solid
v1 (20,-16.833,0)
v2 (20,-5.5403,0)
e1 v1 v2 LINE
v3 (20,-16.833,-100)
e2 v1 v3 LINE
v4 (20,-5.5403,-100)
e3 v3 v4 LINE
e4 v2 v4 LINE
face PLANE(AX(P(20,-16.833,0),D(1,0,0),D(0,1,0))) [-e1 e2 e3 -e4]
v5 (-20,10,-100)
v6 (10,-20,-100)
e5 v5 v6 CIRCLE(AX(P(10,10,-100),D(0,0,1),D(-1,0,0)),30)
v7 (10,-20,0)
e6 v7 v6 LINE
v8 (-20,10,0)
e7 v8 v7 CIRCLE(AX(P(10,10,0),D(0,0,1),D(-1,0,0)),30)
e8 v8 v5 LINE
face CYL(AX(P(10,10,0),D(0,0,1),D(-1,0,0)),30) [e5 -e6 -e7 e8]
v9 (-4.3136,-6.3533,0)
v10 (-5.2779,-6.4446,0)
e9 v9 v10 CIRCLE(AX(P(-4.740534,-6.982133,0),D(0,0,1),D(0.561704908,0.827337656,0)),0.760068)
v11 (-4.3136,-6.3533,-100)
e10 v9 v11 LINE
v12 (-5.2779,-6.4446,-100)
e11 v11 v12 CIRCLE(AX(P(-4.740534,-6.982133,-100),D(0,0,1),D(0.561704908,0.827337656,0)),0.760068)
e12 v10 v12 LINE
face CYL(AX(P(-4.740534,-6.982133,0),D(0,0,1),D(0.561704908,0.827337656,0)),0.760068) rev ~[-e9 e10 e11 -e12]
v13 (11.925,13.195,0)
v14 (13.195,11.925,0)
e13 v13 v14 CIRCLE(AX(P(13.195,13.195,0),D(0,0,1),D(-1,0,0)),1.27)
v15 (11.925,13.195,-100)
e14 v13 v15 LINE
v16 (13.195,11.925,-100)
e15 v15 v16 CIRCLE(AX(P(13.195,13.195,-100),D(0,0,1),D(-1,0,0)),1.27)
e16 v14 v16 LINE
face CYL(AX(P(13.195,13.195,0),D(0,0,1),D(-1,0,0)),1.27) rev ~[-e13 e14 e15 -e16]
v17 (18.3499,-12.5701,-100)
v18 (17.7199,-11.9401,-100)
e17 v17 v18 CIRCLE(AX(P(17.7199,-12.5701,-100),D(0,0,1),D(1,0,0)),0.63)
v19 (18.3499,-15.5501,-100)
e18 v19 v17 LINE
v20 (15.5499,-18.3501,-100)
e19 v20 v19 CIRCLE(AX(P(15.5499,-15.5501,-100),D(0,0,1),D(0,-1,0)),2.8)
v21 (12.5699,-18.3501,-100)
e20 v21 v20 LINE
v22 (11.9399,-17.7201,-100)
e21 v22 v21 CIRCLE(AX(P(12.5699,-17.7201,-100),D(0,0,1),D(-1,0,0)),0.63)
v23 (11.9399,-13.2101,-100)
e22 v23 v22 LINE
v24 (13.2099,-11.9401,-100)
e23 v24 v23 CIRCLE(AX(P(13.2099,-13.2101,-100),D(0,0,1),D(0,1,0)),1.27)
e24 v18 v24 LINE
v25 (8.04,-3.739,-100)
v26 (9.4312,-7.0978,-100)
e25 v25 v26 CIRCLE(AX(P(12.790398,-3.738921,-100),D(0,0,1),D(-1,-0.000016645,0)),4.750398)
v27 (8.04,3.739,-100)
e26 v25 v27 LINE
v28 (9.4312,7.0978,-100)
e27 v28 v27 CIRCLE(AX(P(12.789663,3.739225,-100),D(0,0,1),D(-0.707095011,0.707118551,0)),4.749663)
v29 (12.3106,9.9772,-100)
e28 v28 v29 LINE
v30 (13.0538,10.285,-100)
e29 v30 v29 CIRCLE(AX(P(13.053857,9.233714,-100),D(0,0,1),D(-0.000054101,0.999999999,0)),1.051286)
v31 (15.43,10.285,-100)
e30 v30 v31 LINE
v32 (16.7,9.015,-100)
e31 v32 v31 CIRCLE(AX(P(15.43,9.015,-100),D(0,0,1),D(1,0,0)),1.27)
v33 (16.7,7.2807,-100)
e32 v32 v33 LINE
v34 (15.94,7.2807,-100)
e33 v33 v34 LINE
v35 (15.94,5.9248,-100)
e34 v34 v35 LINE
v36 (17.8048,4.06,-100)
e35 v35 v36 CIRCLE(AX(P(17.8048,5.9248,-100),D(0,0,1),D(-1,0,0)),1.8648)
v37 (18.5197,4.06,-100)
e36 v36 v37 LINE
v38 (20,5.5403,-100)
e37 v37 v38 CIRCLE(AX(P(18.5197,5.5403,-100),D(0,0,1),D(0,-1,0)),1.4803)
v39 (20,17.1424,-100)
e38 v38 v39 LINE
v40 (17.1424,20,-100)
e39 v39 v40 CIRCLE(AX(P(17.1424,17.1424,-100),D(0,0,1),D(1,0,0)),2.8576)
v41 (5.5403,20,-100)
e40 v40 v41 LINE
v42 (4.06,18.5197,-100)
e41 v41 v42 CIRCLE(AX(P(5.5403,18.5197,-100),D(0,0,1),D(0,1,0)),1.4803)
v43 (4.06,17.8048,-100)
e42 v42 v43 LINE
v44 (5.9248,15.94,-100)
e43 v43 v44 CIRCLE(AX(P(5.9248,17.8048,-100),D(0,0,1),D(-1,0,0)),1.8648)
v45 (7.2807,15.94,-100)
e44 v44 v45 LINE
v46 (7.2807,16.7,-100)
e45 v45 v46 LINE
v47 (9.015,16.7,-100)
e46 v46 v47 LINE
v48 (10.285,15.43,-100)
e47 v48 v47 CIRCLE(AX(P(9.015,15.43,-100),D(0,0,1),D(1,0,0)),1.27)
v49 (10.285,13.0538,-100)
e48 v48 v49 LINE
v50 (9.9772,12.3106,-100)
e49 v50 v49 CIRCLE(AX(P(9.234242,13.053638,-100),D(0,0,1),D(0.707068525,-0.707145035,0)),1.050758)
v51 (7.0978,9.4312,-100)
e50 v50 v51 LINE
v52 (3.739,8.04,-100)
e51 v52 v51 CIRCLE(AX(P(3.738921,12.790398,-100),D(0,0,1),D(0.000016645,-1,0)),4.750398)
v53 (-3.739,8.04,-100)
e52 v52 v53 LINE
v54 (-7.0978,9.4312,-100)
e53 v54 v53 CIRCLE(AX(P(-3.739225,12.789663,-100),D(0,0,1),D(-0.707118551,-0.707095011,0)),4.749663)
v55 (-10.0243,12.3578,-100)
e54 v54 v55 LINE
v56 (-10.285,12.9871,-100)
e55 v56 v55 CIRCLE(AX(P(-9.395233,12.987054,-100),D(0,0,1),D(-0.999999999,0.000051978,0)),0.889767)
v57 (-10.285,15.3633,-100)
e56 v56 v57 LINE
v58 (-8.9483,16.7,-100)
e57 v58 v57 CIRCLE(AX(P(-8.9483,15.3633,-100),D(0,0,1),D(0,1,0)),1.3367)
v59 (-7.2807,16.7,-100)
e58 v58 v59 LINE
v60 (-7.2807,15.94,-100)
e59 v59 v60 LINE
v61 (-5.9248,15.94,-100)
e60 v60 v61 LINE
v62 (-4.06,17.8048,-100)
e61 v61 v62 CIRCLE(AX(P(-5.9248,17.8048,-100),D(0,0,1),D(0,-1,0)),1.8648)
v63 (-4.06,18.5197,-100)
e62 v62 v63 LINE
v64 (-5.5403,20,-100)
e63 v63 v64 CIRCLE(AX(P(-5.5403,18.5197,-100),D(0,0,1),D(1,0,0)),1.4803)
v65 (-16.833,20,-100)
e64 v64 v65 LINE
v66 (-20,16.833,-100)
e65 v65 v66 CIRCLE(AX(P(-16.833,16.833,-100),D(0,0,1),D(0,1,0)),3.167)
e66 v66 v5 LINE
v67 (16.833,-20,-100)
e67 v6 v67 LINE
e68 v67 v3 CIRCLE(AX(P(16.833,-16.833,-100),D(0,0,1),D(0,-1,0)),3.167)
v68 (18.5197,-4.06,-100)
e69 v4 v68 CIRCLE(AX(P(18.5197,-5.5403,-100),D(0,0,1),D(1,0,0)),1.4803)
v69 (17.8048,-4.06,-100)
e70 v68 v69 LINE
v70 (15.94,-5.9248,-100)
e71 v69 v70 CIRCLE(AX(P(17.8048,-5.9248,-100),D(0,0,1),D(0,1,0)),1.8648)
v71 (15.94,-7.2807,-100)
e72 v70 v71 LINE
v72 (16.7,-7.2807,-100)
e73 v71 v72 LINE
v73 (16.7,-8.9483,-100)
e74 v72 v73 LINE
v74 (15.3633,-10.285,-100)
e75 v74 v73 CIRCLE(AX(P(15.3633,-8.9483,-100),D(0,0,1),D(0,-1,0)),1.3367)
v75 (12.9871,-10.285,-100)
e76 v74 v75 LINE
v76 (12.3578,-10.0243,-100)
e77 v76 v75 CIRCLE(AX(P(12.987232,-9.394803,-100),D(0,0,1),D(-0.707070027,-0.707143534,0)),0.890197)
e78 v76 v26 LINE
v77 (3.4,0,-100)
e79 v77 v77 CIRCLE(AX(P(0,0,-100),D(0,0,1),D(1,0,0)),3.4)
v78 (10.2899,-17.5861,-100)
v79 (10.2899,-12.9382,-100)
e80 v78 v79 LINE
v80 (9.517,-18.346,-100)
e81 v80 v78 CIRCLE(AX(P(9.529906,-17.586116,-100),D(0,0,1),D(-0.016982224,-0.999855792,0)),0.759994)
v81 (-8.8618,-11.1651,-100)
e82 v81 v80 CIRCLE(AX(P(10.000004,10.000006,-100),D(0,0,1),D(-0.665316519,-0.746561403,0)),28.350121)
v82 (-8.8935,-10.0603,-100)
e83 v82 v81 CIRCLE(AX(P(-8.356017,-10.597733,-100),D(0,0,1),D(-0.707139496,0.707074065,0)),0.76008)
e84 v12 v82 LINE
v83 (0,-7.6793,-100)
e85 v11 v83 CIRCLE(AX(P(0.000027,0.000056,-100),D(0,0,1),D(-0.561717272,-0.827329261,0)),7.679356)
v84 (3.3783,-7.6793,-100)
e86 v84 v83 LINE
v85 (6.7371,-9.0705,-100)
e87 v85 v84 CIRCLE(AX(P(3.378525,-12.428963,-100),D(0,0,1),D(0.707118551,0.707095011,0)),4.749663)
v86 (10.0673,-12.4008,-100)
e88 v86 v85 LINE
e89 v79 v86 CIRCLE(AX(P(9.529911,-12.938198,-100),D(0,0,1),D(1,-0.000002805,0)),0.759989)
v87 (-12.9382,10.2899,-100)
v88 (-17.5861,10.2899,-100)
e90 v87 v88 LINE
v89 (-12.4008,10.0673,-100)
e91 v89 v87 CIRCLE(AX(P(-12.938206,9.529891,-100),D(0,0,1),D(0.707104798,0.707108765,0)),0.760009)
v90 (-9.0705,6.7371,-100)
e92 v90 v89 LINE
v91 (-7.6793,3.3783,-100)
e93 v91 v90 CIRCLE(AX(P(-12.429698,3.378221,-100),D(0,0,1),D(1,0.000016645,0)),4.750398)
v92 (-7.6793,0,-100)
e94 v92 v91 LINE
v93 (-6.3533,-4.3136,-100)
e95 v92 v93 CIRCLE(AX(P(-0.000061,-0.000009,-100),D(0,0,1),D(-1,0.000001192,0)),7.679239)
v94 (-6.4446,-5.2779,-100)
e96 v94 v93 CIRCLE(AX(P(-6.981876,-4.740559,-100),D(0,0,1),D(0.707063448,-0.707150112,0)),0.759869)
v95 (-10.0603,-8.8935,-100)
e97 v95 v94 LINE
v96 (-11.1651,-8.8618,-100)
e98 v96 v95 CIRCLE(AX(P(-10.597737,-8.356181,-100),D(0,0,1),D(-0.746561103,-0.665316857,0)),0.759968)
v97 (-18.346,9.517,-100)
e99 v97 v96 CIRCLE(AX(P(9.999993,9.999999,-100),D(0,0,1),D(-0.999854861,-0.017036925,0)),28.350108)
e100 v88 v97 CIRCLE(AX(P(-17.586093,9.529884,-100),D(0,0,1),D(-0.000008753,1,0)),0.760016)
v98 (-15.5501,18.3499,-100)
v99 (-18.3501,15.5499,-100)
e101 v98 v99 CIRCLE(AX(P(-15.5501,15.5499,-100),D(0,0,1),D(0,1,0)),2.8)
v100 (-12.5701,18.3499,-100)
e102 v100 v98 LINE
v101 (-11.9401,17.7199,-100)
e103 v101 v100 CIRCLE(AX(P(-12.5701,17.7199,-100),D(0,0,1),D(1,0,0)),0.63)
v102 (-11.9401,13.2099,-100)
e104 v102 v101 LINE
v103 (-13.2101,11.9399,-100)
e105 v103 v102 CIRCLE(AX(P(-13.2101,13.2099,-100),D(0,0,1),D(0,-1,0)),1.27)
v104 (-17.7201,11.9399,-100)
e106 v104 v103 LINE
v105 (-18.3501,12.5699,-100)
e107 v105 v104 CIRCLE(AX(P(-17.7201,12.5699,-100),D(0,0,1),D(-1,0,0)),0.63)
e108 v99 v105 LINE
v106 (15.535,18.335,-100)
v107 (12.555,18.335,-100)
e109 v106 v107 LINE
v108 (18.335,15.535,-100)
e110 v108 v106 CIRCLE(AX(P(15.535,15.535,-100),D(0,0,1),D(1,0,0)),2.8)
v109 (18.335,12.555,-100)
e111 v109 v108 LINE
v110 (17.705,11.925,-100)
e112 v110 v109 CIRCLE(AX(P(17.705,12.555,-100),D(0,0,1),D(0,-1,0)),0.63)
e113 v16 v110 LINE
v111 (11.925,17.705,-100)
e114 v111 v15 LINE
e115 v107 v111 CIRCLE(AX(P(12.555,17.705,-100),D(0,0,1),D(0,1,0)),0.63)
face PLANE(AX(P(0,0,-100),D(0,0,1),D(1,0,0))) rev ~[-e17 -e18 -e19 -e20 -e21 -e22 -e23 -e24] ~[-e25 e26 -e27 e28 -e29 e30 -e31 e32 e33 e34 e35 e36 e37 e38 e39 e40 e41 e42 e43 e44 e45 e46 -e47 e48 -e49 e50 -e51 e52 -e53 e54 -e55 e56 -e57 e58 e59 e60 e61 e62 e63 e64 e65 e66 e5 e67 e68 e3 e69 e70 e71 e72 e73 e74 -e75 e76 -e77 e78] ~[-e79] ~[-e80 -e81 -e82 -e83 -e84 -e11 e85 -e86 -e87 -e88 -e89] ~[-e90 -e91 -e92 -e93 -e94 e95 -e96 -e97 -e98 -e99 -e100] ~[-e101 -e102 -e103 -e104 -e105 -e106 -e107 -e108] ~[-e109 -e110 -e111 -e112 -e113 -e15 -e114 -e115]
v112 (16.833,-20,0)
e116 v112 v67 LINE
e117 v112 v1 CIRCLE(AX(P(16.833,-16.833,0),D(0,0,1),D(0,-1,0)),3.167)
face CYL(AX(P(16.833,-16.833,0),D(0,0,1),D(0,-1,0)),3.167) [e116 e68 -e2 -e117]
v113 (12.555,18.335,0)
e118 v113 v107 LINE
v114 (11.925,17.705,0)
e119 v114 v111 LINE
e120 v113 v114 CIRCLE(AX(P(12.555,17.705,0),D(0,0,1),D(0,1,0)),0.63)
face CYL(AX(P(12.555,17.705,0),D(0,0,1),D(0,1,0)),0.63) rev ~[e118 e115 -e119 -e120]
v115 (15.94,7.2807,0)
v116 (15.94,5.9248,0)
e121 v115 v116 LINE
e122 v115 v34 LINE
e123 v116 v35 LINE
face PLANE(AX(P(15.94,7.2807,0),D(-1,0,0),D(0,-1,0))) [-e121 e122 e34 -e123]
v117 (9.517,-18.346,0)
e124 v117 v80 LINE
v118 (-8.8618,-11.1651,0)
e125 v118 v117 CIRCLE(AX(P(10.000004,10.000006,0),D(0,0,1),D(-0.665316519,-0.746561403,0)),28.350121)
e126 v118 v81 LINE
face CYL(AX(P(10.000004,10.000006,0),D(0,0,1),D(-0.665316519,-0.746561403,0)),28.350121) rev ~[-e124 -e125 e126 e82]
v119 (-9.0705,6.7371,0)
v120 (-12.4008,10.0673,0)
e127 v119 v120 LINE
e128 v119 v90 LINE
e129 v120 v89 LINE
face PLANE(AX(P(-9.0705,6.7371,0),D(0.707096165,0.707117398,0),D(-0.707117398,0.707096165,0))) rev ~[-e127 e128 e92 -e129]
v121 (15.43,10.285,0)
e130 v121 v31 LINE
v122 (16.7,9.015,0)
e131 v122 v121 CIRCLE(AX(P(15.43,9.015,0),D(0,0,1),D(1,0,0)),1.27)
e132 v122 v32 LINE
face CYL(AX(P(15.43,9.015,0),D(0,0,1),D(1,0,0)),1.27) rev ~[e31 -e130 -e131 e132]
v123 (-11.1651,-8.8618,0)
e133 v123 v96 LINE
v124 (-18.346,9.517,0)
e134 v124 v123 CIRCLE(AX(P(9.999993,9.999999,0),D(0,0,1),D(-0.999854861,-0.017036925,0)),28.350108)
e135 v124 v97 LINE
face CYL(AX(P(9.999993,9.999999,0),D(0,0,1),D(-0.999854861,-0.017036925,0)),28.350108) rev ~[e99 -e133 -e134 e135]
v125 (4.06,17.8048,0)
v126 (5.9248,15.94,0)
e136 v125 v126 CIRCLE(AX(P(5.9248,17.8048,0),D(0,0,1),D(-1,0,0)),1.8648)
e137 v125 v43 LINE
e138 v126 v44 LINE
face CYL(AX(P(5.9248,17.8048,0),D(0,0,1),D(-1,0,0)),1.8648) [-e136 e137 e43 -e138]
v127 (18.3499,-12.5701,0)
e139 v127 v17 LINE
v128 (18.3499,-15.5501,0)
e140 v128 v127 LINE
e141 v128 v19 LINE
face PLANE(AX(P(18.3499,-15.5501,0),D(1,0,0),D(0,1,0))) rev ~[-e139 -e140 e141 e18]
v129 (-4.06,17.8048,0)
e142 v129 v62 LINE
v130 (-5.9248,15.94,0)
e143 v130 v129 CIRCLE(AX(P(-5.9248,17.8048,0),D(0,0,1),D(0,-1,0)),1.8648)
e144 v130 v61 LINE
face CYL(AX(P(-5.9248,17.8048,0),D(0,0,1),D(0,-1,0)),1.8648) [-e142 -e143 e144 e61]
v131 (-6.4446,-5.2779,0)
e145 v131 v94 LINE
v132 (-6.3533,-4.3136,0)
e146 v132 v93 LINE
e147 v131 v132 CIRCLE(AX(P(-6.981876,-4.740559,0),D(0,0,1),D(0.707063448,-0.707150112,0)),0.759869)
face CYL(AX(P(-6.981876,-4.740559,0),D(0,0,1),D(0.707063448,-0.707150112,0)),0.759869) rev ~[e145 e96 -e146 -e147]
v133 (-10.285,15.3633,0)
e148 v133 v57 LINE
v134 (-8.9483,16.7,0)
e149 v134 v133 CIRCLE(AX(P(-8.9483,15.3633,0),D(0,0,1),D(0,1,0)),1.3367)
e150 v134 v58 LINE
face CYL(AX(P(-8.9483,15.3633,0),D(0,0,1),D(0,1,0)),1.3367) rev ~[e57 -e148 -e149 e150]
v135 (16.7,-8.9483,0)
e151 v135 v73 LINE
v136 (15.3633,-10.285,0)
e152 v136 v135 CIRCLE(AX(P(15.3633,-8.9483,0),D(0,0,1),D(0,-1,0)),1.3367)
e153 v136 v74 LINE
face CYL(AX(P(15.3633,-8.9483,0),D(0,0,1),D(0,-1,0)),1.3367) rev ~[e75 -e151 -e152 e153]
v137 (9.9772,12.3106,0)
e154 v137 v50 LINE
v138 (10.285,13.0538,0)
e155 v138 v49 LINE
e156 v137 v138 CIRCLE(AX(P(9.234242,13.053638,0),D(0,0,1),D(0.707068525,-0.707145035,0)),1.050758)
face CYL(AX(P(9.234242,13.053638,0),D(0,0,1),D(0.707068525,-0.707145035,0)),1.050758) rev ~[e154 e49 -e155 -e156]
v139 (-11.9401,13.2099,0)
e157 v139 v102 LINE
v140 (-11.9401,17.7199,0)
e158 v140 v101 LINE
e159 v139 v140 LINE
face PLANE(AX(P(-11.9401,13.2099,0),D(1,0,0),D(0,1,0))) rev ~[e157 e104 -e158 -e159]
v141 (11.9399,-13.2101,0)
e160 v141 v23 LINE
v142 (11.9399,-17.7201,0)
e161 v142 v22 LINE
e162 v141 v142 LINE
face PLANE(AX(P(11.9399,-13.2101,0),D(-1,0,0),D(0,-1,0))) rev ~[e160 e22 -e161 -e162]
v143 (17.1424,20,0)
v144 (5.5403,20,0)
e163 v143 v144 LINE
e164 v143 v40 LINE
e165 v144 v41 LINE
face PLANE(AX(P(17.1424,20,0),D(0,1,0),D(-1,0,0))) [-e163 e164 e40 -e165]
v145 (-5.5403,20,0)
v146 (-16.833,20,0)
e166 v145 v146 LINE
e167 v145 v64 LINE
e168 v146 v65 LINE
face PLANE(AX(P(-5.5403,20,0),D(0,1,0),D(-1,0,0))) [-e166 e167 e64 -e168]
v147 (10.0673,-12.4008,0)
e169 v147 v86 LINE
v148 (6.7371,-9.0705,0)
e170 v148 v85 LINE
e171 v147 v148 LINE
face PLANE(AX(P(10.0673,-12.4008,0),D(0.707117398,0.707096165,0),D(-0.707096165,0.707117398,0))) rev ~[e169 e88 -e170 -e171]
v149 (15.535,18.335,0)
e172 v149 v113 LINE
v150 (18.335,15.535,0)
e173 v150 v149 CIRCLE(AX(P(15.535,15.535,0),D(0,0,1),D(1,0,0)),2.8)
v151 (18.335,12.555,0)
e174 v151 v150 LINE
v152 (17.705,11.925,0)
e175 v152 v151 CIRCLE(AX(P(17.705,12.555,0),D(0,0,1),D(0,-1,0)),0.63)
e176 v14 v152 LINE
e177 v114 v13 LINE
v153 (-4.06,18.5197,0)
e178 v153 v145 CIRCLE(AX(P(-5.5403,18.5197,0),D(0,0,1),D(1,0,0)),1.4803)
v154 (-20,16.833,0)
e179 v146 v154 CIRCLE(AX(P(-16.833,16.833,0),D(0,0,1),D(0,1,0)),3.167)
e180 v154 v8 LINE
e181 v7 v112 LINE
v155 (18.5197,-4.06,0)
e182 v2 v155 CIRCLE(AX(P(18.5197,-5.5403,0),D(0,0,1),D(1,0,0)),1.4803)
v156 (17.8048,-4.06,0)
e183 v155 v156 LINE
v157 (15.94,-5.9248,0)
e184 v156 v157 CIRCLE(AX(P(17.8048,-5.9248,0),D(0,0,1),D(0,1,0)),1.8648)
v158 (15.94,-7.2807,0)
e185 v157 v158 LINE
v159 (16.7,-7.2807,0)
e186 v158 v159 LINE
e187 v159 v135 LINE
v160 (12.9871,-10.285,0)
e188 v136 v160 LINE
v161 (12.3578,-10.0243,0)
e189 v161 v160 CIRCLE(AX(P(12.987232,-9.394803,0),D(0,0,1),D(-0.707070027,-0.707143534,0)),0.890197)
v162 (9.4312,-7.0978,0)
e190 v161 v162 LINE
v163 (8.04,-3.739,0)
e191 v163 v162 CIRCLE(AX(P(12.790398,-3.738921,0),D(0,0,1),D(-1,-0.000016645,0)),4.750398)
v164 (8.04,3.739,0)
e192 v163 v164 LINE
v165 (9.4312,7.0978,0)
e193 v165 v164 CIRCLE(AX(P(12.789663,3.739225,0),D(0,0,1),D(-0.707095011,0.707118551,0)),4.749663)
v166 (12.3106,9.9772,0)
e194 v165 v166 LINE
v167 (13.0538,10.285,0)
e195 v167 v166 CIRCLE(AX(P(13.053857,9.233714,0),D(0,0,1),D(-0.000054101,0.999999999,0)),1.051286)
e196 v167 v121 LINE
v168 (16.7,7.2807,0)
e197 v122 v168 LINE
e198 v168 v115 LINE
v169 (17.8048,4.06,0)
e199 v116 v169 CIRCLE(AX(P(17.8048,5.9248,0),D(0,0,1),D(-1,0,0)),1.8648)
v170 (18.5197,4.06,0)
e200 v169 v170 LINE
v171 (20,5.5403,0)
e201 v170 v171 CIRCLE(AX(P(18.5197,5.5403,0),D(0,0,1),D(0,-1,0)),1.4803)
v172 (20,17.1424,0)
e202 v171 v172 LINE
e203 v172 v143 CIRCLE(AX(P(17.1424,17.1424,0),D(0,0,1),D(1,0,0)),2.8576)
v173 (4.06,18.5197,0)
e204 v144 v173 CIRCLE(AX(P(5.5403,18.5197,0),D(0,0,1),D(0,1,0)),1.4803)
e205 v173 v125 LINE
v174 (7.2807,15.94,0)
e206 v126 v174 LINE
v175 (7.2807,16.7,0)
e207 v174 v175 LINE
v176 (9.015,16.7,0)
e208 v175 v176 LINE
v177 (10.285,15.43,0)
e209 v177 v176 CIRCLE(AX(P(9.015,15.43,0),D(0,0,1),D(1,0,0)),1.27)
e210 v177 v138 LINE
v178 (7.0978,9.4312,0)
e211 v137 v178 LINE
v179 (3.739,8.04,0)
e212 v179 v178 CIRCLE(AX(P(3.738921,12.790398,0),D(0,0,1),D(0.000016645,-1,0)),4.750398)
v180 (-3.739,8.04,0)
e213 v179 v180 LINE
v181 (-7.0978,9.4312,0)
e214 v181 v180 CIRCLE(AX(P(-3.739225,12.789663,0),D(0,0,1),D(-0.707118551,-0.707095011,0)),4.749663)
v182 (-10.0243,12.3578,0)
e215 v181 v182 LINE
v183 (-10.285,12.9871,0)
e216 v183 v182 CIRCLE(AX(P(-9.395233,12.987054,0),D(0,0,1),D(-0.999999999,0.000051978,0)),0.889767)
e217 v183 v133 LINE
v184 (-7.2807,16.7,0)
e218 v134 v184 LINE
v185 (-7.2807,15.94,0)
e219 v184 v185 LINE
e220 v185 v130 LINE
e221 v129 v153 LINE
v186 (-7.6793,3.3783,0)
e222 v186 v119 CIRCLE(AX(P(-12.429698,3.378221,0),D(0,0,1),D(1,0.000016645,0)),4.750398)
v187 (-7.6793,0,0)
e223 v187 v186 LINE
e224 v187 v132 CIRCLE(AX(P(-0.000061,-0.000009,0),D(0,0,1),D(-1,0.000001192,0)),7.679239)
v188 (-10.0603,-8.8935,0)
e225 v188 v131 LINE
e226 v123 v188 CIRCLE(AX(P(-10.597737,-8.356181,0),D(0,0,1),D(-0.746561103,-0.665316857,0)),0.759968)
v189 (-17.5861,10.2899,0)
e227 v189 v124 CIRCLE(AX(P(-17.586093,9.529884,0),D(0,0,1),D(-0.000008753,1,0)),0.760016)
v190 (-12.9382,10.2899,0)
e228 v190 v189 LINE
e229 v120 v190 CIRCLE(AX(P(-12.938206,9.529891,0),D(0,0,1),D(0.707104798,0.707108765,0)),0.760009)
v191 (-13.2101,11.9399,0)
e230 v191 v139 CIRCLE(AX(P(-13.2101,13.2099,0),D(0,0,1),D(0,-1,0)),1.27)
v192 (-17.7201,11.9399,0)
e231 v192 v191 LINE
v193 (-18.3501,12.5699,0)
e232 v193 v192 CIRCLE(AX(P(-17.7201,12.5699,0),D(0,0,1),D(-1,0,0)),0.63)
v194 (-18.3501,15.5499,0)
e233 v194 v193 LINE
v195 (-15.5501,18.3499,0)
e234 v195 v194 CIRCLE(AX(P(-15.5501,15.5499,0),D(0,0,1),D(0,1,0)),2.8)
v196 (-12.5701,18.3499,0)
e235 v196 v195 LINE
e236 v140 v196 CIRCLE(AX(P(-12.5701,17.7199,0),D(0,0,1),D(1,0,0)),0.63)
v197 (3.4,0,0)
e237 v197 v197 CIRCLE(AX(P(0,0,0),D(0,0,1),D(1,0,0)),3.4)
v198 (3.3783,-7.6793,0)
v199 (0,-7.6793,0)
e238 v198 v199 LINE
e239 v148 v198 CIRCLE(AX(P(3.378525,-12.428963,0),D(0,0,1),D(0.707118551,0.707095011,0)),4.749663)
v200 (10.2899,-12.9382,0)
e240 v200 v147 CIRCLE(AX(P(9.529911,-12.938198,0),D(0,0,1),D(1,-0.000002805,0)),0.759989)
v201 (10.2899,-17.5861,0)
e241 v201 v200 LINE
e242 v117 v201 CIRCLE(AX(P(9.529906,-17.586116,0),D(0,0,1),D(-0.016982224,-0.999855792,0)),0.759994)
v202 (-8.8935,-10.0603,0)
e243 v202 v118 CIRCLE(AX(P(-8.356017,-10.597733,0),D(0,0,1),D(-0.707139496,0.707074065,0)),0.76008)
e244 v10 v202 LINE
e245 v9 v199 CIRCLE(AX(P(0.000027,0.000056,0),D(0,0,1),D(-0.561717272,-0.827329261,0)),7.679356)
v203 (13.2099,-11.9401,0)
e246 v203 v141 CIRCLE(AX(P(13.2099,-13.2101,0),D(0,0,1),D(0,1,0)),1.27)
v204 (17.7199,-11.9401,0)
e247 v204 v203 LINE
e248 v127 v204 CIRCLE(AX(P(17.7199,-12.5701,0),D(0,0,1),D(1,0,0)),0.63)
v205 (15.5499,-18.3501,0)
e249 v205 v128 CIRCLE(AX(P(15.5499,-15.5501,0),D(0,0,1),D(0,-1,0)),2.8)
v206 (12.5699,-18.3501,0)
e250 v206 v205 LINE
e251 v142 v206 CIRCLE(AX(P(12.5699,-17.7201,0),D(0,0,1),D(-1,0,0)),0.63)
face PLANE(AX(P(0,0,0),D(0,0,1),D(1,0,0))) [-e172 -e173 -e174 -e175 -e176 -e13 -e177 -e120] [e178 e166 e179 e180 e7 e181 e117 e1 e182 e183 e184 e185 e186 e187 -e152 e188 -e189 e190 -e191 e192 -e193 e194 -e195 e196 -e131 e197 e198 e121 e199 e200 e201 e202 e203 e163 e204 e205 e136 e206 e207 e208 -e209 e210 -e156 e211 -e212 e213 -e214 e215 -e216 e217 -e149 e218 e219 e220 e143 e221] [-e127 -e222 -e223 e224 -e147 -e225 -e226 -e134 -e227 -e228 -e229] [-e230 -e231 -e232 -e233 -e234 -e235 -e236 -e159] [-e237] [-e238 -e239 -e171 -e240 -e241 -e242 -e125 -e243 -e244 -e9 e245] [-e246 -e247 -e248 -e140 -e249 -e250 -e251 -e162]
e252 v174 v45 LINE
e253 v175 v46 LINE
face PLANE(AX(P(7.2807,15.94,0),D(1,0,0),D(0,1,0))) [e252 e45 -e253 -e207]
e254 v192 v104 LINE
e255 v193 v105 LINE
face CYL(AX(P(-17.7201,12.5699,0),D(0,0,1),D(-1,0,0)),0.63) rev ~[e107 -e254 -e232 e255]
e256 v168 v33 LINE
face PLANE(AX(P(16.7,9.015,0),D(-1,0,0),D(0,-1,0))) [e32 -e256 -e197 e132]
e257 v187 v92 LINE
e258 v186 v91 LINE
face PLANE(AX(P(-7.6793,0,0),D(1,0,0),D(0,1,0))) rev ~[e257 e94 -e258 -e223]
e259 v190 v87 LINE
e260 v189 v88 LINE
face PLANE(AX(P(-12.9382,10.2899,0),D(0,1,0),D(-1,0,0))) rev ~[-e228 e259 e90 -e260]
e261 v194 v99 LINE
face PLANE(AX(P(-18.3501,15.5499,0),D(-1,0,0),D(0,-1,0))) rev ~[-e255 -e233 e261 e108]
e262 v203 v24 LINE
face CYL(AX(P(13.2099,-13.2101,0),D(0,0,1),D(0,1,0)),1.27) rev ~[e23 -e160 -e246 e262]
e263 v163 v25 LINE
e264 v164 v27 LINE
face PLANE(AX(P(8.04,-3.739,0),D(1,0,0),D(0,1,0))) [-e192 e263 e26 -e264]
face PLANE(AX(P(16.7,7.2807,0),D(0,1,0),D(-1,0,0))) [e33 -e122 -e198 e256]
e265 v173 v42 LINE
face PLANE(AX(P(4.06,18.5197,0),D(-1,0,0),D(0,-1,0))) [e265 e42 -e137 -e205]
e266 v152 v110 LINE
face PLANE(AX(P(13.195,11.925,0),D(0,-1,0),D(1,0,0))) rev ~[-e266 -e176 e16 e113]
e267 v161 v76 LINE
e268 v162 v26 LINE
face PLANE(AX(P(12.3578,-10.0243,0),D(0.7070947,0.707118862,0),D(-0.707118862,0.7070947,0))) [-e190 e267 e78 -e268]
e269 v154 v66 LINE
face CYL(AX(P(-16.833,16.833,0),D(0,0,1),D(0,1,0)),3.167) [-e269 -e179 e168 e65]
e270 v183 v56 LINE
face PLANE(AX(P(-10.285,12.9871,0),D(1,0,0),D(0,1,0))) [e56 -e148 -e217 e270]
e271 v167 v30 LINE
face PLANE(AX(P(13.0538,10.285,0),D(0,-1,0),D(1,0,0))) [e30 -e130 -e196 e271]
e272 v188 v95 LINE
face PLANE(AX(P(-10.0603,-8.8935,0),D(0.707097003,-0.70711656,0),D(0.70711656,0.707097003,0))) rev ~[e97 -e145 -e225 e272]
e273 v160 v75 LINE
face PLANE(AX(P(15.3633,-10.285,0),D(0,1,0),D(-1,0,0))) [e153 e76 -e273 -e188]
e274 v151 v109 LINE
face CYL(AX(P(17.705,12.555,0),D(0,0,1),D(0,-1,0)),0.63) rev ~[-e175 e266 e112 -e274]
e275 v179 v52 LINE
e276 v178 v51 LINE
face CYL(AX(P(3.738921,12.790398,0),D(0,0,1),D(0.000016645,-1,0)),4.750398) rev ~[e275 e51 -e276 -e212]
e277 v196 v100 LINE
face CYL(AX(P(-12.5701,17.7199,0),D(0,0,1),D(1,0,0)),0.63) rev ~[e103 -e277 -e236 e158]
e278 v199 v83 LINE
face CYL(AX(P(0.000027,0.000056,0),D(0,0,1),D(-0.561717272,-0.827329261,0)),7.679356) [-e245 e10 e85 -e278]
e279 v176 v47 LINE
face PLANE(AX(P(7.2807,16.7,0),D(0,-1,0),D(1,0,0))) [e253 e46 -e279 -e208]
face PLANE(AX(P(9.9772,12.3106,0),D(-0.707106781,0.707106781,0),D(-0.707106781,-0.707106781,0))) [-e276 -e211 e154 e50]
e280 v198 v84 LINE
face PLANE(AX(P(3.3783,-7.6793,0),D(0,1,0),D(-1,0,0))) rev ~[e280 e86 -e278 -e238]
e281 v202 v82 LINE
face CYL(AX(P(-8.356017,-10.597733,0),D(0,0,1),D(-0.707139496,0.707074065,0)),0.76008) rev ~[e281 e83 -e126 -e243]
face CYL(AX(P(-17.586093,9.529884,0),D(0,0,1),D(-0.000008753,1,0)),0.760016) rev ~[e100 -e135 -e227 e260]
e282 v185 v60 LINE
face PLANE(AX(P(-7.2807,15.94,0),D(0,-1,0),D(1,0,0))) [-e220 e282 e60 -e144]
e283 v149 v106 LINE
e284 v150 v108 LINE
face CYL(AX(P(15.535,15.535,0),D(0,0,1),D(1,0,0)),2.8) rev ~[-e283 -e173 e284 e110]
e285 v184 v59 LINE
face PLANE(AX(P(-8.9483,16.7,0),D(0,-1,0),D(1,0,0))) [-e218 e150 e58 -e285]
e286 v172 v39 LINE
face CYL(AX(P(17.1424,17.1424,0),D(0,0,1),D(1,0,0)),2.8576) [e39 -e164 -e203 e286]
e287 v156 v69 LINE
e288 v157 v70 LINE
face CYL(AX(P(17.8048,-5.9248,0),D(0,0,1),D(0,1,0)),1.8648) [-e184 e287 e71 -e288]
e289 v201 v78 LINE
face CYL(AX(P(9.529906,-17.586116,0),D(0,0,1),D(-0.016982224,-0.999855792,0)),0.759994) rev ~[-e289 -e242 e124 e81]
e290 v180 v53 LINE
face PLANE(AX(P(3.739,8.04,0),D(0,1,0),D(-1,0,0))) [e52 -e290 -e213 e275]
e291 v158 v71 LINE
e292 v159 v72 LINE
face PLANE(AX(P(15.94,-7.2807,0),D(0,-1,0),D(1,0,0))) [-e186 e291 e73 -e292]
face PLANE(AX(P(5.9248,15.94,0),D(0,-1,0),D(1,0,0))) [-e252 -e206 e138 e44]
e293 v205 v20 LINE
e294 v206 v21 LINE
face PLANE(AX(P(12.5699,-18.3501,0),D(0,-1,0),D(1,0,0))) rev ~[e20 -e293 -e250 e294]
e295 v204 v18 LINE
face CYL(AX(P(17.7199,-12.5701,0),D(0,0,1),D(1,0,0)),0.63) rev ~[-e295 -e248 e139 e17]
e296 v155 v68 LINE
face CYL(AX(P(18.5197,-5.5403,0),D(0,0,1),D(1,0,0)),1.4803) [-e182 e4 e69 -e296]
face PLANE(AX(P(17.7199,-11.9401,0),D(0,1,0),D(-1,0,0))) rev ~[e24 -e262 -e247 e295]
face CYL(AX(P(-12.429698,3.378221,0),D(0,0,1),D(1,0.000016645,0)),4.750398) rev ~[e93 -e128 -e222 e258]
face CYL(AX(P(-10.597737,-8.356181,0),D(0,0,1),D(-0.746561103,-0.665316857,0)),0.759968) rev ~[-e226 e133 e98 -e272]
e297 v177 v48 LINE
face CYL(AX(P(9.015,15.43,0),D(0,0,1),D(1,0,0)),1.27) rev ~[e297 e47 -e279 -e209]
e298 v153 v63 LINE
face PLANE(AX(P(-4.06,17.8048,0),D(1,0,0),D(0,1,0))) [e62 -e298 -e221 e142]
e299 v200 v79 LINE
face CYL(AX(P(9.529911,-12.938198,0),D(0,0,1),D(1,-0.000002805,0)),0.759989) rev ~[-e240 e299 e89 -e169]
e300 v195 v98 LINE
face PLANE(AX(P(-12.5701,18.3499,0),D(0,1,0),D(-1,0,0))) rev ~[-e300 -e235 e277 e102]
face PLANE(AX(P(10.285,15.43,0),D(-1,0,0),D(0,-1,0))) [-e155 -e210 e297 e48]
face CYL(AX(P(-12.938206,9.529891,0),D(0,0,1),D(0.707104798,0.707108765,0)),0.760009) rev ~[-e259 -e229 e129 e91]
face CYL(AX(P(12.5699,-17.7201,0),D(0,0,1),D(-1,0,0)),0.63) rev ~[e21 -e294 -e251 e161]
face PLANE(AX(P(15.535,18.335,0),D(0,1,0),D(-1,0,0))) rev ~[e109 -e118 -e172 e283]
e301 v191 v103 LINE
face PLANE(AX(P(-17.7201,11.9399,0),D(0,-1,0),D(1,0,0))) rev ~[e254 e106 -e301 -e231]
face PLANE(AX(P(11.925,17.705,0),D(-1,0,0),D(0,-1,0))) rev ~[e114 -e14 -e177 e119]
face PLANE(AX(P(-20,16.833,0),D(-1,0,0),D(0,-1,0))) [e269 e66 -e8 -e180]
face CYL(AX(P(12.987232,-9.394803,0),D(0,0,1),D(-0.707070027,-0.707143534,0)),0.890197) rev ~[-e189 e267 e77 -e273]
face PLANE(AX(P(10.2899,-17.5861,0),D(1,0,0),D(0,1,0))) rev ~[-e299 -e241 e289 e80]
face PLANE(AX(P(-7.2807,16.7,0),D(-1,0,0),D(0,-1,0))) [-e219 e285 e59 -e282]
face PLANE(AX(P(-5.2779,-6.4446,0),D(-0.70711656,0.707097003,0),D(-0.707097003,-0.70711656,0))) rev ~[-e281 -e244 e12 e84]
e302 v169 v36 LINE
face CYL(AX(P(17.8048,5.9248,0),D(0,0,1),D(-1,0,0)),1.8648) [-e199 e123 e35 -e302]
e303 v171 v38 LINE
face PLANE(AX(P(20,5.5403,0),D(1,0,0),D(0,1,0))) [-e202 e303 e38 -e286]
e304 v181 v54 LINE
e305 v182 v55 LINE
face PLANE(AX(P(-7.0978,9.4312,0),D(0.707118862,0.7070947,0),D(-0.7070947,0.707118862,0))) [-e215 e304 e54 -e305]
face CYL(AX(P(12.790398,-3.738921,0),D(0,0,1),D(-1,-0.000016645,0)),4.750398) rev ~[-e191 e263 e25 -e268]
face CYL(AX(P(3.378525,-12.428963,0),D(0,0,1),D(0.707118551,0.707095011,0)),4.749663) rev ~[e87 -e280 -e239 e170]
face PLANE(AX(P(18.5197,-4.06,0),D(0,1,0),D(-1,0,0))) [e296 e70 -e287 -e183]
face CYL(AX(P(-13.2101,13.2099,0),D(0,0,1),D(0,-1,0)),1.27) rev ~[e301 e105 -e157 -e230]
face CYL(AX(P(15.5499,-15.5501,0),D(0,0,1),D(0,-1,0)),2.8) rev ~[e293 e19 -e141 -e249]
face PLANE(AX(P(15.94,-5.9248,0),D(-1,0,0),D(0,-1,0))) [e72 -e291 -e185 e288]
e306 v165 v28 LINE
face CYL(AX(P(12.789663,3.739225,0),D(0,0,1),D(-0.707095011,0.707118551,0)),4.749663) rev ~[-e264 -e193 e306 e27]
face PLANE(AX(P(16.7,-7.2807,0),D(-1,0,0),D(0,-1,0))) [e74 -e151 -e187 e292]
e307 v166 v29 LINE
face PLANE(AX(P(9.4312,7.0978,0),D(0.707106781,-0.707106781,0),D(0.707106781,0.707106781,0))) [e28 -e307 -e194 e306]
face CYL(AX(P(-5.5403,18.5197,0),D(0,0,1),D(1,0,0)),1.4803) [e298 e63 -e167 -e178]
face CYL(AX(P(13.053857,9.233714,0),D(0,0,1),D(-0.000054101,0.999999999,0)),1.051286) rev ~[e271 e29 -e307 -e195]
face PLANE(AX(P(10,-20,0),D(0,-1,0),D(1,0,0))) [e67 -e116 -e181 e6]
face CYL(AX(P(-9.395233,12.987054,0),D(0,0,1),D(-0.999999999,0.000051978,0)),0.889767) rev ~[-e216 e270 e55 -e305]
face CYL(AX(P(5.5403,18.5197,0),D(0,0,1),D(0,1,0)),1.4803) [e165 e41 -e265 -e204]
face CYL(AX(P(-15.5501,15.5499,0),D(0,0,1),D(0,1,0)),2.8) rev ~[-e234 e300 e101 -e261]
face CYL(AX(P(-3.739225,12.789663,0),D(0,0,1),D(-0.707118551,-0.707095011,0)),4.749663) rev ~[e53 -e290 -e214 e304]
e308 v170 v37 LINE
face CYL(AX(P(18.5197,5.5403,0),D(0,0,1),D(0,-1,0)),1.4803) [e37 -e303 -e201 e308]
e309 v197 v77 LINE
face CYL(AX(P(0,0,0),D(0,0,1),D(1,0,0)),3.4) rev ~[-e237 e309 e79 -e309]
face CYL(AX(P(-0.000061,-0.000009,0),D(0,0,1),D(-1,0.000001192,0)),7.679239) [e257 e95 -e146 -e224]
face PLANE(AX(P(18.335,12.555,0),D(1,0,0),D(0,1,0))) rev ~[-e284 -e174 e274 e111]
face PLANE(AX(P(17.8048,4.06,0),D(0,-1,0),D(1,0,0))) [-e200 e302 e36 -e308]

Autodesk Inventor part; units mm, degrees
ref_plane "YZ Plane" through (0, 0, 0) normal (1, 0, 0) x (0, 1, 0)
ref_plane "XZ Plane" through (0, 0, 0) normal (0, 1, 0) x (-1, 0, 0)
ref_plane "XY Plane" through (0, 0, 0) normal (0, 0, 1) x (1, 0, 0)
sketch "Sketch1" plane through (0, 0, 0) normal (0, 0, 1) x (1, 0, 0)
  arc A0 (-8.8618, -11.1651) -> (9.517, -18.346) centre (10, 10) ccw
  arc A1 (-8.8935, -10.0603) -> (-8.8618, -11.1651) centre (-8.3561, -10.5977) ccw
  line L0 (-5.2779, -6.4446) -> (-8.8935, -10.0603)
  arc A2 (-4.3136, -6.3533) -> (-5.2779, -6.4446) centre (-4.7405, -6.982) ccw
  arc A3 (-4.3136, -6.3533) -> (0, -7.6793) centre (0, 0) ccw
  line L1 (3.3783, -7.6793) -> (0, -7.6793)
  arc A4 (6.7371, -9.0705) -> (3.3783, -7.6793) centre (3.3783, -12.4293) ccw
  line L2 (10.0673, -12.4008) -> (6.7371, -9.0705)
  arc A5 (10.2899, -12.9382) -> (10.0673, -12.4008) centre (9.5299, -12.9382) ccw
  line L3 (10.2899, -17.5861) -> (10.2899, -12.9382)
  arc A6 (9.517, -18.346) -> (10.2899, -17.5861) centre (9.5299, -17.5861) ccw
  line L4 (11.9399, -13.2101) -> (11.9399, -17.7201)
  arc A7 (13.2099, -11.9401) -> (11.9399, -13.2101) centre (13.2099, -13.2101) ccw
  line L5 (17.7199, -11.9401) -> (13.2099, -11.9401)
  arc A8 (18.3499, -12.5701) -> (17.7199, -11.9401) centre (17.7199, -12.5701) ccw
  line L6 (18.3499, -15.5501) -> (18.3499, -12.5701)
  arc A9 (15.5499, -18.3501) -> (18.3499, -15.5501) centre (15.5499, -15.5501) ccw
  line L7 (12.5699, -18.3501) -> (15.5499, -18.3501)
  arc A10 (11.9399, -17.7201) -> (12.5699, -18.3501) centre (12.5699, -17.7201) ccw
  line L8 (-11.9401, 13.2099) -> (-11.9401, 17.7199)
  arc A11 (-13.2101, 11.9399) -> (-11.9401, 13.2099) centre (-13.2101, 13.2099) ccw
  line L9 (-17.7201, 11.9399) -> (-13.2101, 11.9399)
  arc A12 (-18.3501, 12.5699) -> (-17.7201, 11.9399) centre (-17.7201, 12.5699) ccw
  line L10 (-18.3501, 15.5499) -> (-18.3501, 12.5699)
  arc A13 (-15.5501, 18.3499) -> (-18.3501, 15.5499) centre (-15.5501, 15.5499) ccw
  line L11 (-12.5701, 18.3499) -> (-15.5501, 18.3499)
  arc A14 (-11.9401, 17.7199) -> (-12.5701, 18.3499) centre (-12.5701, 17.7199) ccw
  line L12 (-9.0705, 6.7371) -> (-12.4008, 10.0673)
  arc A15 (-7.6793, 3.3783) -> (-9.0705, 6.7371) centre (-12.4293, 3.3783) ccw
  line L13 (-7.6793, 0) -> (-7.6793, 3.3783)
  arc A16 (-7.6793, 0) -> (-6.3533, -4.3136) centre (0, 0) ccw
  arc A17 (-6.4446, -5.2779) -> (-6.3533, -4.3136) centre (-6.982, -4.7405) ccw
  line L14 (-10.0603, -8.8935) -> (-6.4446, -5.2779)
  arc A18 (-11.1651, -8.8618) -> (-10.0603, -8.8935) centre (-10.5977, -8.3561) ccw
  arc A19 (-18.346, 9.517) -> (-11.1651, -8.8618) centre (10, 10) ccw
  arc A20 (-17.5861, 10.2899) -> (-18.346, 9.517) centre (-17.5861, 9.5299) ccw
  line L15 (-12.9382, 10.2899) -> (-17.5861, 10.2899)
  arc A21 (-12.4008, 10.0673) -> (-12.9382, 10.2899) centre (-12.9382, 9.5299) ccw
  circle A22 centre (0, 0) radius 3.4
  line L16 (13.195, 11.925) -> (17.705, 11.925)
  arc A23 (11.925, 13.195) -> (13.195, 11.925) centre (13.195, 13.195) ccw
  line L17 (11.925, 17.705) -> (11.925, 13.195)
  arc A24 (12.555, 18.335) -> (11.925, 17.705) centre (12.555, 17.705) ccw
  line L18 (15.535, 18.335) -> (12.555, 18.335)
  arc A25 (18.335, 15.535) -> (15.535, 18.335) centre (15.535, 15.535) ccw
  line L19 (18.335, 12.555) -> (18.335, 15.535)
  arc A26 (17.705, 11.925) -> (18.335, 12.555) centre (17.705, 12.555) ccw
  arc A27 (20, 17.1424) -> (17.1424, 20) centre (17.1424, 17.1424) ccw
  line L20 (17.1424, 20) -> (5.5403, 20)
  arc A28 (5.5403, 20) -> (4.06, 18.5197) centre (5.5403, 18.5197) ccw
  line L21 (4.06, 18.5197) -> (4.06, 17.8048)
  arc A29 (4.06, 17.8048) -> (5.9248, 15.94) centre (5.9248, 17.8048) ccw
  line L22 (5.9248, 15.94) -> (7.2807, 15.94)
  line L23 (7.2807, 15.94) -> (7.2807, 16.7)
  line L24 (7.2807, 16.7) -> (9.015, 16.7)
  arc A30 (10.285, 15.43) -> (9.015, 16.7) centre (9.015, 15.43) ccw
  line L25 (10.285, 15.43) -> (10.285, 13.0538)
  arc A31 (9.9772, 12.3106) -> (10.285, 13.0538) centre (9.234, 13.0538) ccw
  line L26 (9.9772, 12.3106) -> (7.0978, 9.4312)
  arc A32 (3.739, 8.04) -> (7.0978, 9.4312) centre (3.739, 12.79) ccw
  line L27 (3.739, 8.04) -> (-3.739, 8.04)
  arc A33 (-7.0978, 9.4312) -> (-3.739, 8.04) centre (-3.739, 12.79) ccw
  line L28 (-7.0978, 9.4312) -> (-10.0243, 12.3578)
  arc A34 (-10.285, 12.9871) -> (-10.0243, 12.3578) centre (-9.395, 12.9871) ccw
  line L29 (-10.285, 12.9871) -> (-10.285, 15.3633)
  arc A35 (-8.9483, 16.7) -> (-10.285, 15.3633) centre (-8.9483, 15.3633) ccw
  line L30 (-8.9483, 16.7) -> (-7.2807, 16.7)
  line L31 (-7.2807, 16.7) -> (-7.2807, 15.94)
  line L32 (-7.2807, 15.94) -> (-5.9248, 15.94)
  arc A36 (-5.9248, 15.94) -> (-4.06, 17.8048) centre (-5.9248, 17.8048) ccw
  line L33 (-4.06, 17.8048) -> (-4.06, 18.5197)
  arc A37 (-4.06, 18.5197) -> (-5.5403, 20) centre (-5.5403, 18.5197) ccw
  line L34 (-5.5403, 20) -> (-16.833, 20)
  arc A38 (-16.833, 20) -> (-20, 16.833) centre (-16.833, 16.833) ccw
  line L35 (-20, 16.833) -> (-20, 10)
  arc A39 (-20, 10) -> (10, -20) centre (10, 10) ccw
  line L36 (10, -20) -> (16.833, -20)
  arc A40 (16.833, -20) -> (20, -16.833) centre (16.833, -16.833) ccw
  line L37 (20, -16.833) -> (20, -5.5403)
  arc A41 (20, -5.5403) -> (18.5197, -4.06) centre (18.5197, -5.5403) ccw
  line L38 (18.5197, -4.06) -> (17.8048, -4.06)
  arc A42 (17.8048, -4.06) -> (15.94, -5.9248) centre (17.8048, -5.9248) ccw
  line L39 (15.94, -5.9248) -> (15.94, -7.2807)
  line L40 (15.94, -7.2807) -> (16.7, -7.2807)
  line L41 (16.7, -7.2807) -> (16.7, -8.9483)
  arc A43 (15.3633, -10.285) -> (16.7, -8.9483) centre (15.3633, -8.9483) ccw
  line L42 (15.3633, -10.285) -> (12.9871, -10.285)
  arc A44 (12.3578, -10.0243) -> (12.9871, -10.285) centre (12.9871, -9.395) ccw
  line L43 (12.3578, -10.0243) -> (9.4312, -7.0978)
  arc A45 (8.04, -3.739) -> (9.4312, -7.0978) centre (12.79, -3.739) ccw
  line L44 (8.04, -3.739) -> (8.04, 3.739)
  arc A46 (9.4312, 7.0978) -> (8.04, 3.739) centre (12.79, 3.739) ccw
  line L45 (9.4312, 7.0978) -> (12.3106, 9.9772)
  arc A47 (13.0538, 10.285) -> (12.3106, 9.9772) centre (13.0538, 9.234) ccw
  line L46 (13.0538, 10.285) -> (15.43, 10.285)
  arc A48 (16.7, 9.015) -> (15.43, 10.285) centre (15.43, 9.015) ccw
  line L47 (16.7, 9.015) -> (16.7, 7.2807)
  line L48 (16.7, 7.2807) -> (15.94, 7.2807)
  line L49 (15.94, 7.2807) -> (15.94, 5.9248)
  arc A49 (15.94, 5.9248) -> (17.8048, 4.06) centre (17.8048, 5.9248) ccw
  line L50 (17.8048, 4.06) -> (18.5197, 4.06)
  arc A50 (18.5197, 4.06) -> (20, 5.5403) centre (18.5197, 5.5403) ccw
  line L51 (20, 5.5403) -> (20, 17.1424)
extrude "Extrusion1" add sketch "Sketch1" against normal blind 100
properties part number "40-4030-LITE"
